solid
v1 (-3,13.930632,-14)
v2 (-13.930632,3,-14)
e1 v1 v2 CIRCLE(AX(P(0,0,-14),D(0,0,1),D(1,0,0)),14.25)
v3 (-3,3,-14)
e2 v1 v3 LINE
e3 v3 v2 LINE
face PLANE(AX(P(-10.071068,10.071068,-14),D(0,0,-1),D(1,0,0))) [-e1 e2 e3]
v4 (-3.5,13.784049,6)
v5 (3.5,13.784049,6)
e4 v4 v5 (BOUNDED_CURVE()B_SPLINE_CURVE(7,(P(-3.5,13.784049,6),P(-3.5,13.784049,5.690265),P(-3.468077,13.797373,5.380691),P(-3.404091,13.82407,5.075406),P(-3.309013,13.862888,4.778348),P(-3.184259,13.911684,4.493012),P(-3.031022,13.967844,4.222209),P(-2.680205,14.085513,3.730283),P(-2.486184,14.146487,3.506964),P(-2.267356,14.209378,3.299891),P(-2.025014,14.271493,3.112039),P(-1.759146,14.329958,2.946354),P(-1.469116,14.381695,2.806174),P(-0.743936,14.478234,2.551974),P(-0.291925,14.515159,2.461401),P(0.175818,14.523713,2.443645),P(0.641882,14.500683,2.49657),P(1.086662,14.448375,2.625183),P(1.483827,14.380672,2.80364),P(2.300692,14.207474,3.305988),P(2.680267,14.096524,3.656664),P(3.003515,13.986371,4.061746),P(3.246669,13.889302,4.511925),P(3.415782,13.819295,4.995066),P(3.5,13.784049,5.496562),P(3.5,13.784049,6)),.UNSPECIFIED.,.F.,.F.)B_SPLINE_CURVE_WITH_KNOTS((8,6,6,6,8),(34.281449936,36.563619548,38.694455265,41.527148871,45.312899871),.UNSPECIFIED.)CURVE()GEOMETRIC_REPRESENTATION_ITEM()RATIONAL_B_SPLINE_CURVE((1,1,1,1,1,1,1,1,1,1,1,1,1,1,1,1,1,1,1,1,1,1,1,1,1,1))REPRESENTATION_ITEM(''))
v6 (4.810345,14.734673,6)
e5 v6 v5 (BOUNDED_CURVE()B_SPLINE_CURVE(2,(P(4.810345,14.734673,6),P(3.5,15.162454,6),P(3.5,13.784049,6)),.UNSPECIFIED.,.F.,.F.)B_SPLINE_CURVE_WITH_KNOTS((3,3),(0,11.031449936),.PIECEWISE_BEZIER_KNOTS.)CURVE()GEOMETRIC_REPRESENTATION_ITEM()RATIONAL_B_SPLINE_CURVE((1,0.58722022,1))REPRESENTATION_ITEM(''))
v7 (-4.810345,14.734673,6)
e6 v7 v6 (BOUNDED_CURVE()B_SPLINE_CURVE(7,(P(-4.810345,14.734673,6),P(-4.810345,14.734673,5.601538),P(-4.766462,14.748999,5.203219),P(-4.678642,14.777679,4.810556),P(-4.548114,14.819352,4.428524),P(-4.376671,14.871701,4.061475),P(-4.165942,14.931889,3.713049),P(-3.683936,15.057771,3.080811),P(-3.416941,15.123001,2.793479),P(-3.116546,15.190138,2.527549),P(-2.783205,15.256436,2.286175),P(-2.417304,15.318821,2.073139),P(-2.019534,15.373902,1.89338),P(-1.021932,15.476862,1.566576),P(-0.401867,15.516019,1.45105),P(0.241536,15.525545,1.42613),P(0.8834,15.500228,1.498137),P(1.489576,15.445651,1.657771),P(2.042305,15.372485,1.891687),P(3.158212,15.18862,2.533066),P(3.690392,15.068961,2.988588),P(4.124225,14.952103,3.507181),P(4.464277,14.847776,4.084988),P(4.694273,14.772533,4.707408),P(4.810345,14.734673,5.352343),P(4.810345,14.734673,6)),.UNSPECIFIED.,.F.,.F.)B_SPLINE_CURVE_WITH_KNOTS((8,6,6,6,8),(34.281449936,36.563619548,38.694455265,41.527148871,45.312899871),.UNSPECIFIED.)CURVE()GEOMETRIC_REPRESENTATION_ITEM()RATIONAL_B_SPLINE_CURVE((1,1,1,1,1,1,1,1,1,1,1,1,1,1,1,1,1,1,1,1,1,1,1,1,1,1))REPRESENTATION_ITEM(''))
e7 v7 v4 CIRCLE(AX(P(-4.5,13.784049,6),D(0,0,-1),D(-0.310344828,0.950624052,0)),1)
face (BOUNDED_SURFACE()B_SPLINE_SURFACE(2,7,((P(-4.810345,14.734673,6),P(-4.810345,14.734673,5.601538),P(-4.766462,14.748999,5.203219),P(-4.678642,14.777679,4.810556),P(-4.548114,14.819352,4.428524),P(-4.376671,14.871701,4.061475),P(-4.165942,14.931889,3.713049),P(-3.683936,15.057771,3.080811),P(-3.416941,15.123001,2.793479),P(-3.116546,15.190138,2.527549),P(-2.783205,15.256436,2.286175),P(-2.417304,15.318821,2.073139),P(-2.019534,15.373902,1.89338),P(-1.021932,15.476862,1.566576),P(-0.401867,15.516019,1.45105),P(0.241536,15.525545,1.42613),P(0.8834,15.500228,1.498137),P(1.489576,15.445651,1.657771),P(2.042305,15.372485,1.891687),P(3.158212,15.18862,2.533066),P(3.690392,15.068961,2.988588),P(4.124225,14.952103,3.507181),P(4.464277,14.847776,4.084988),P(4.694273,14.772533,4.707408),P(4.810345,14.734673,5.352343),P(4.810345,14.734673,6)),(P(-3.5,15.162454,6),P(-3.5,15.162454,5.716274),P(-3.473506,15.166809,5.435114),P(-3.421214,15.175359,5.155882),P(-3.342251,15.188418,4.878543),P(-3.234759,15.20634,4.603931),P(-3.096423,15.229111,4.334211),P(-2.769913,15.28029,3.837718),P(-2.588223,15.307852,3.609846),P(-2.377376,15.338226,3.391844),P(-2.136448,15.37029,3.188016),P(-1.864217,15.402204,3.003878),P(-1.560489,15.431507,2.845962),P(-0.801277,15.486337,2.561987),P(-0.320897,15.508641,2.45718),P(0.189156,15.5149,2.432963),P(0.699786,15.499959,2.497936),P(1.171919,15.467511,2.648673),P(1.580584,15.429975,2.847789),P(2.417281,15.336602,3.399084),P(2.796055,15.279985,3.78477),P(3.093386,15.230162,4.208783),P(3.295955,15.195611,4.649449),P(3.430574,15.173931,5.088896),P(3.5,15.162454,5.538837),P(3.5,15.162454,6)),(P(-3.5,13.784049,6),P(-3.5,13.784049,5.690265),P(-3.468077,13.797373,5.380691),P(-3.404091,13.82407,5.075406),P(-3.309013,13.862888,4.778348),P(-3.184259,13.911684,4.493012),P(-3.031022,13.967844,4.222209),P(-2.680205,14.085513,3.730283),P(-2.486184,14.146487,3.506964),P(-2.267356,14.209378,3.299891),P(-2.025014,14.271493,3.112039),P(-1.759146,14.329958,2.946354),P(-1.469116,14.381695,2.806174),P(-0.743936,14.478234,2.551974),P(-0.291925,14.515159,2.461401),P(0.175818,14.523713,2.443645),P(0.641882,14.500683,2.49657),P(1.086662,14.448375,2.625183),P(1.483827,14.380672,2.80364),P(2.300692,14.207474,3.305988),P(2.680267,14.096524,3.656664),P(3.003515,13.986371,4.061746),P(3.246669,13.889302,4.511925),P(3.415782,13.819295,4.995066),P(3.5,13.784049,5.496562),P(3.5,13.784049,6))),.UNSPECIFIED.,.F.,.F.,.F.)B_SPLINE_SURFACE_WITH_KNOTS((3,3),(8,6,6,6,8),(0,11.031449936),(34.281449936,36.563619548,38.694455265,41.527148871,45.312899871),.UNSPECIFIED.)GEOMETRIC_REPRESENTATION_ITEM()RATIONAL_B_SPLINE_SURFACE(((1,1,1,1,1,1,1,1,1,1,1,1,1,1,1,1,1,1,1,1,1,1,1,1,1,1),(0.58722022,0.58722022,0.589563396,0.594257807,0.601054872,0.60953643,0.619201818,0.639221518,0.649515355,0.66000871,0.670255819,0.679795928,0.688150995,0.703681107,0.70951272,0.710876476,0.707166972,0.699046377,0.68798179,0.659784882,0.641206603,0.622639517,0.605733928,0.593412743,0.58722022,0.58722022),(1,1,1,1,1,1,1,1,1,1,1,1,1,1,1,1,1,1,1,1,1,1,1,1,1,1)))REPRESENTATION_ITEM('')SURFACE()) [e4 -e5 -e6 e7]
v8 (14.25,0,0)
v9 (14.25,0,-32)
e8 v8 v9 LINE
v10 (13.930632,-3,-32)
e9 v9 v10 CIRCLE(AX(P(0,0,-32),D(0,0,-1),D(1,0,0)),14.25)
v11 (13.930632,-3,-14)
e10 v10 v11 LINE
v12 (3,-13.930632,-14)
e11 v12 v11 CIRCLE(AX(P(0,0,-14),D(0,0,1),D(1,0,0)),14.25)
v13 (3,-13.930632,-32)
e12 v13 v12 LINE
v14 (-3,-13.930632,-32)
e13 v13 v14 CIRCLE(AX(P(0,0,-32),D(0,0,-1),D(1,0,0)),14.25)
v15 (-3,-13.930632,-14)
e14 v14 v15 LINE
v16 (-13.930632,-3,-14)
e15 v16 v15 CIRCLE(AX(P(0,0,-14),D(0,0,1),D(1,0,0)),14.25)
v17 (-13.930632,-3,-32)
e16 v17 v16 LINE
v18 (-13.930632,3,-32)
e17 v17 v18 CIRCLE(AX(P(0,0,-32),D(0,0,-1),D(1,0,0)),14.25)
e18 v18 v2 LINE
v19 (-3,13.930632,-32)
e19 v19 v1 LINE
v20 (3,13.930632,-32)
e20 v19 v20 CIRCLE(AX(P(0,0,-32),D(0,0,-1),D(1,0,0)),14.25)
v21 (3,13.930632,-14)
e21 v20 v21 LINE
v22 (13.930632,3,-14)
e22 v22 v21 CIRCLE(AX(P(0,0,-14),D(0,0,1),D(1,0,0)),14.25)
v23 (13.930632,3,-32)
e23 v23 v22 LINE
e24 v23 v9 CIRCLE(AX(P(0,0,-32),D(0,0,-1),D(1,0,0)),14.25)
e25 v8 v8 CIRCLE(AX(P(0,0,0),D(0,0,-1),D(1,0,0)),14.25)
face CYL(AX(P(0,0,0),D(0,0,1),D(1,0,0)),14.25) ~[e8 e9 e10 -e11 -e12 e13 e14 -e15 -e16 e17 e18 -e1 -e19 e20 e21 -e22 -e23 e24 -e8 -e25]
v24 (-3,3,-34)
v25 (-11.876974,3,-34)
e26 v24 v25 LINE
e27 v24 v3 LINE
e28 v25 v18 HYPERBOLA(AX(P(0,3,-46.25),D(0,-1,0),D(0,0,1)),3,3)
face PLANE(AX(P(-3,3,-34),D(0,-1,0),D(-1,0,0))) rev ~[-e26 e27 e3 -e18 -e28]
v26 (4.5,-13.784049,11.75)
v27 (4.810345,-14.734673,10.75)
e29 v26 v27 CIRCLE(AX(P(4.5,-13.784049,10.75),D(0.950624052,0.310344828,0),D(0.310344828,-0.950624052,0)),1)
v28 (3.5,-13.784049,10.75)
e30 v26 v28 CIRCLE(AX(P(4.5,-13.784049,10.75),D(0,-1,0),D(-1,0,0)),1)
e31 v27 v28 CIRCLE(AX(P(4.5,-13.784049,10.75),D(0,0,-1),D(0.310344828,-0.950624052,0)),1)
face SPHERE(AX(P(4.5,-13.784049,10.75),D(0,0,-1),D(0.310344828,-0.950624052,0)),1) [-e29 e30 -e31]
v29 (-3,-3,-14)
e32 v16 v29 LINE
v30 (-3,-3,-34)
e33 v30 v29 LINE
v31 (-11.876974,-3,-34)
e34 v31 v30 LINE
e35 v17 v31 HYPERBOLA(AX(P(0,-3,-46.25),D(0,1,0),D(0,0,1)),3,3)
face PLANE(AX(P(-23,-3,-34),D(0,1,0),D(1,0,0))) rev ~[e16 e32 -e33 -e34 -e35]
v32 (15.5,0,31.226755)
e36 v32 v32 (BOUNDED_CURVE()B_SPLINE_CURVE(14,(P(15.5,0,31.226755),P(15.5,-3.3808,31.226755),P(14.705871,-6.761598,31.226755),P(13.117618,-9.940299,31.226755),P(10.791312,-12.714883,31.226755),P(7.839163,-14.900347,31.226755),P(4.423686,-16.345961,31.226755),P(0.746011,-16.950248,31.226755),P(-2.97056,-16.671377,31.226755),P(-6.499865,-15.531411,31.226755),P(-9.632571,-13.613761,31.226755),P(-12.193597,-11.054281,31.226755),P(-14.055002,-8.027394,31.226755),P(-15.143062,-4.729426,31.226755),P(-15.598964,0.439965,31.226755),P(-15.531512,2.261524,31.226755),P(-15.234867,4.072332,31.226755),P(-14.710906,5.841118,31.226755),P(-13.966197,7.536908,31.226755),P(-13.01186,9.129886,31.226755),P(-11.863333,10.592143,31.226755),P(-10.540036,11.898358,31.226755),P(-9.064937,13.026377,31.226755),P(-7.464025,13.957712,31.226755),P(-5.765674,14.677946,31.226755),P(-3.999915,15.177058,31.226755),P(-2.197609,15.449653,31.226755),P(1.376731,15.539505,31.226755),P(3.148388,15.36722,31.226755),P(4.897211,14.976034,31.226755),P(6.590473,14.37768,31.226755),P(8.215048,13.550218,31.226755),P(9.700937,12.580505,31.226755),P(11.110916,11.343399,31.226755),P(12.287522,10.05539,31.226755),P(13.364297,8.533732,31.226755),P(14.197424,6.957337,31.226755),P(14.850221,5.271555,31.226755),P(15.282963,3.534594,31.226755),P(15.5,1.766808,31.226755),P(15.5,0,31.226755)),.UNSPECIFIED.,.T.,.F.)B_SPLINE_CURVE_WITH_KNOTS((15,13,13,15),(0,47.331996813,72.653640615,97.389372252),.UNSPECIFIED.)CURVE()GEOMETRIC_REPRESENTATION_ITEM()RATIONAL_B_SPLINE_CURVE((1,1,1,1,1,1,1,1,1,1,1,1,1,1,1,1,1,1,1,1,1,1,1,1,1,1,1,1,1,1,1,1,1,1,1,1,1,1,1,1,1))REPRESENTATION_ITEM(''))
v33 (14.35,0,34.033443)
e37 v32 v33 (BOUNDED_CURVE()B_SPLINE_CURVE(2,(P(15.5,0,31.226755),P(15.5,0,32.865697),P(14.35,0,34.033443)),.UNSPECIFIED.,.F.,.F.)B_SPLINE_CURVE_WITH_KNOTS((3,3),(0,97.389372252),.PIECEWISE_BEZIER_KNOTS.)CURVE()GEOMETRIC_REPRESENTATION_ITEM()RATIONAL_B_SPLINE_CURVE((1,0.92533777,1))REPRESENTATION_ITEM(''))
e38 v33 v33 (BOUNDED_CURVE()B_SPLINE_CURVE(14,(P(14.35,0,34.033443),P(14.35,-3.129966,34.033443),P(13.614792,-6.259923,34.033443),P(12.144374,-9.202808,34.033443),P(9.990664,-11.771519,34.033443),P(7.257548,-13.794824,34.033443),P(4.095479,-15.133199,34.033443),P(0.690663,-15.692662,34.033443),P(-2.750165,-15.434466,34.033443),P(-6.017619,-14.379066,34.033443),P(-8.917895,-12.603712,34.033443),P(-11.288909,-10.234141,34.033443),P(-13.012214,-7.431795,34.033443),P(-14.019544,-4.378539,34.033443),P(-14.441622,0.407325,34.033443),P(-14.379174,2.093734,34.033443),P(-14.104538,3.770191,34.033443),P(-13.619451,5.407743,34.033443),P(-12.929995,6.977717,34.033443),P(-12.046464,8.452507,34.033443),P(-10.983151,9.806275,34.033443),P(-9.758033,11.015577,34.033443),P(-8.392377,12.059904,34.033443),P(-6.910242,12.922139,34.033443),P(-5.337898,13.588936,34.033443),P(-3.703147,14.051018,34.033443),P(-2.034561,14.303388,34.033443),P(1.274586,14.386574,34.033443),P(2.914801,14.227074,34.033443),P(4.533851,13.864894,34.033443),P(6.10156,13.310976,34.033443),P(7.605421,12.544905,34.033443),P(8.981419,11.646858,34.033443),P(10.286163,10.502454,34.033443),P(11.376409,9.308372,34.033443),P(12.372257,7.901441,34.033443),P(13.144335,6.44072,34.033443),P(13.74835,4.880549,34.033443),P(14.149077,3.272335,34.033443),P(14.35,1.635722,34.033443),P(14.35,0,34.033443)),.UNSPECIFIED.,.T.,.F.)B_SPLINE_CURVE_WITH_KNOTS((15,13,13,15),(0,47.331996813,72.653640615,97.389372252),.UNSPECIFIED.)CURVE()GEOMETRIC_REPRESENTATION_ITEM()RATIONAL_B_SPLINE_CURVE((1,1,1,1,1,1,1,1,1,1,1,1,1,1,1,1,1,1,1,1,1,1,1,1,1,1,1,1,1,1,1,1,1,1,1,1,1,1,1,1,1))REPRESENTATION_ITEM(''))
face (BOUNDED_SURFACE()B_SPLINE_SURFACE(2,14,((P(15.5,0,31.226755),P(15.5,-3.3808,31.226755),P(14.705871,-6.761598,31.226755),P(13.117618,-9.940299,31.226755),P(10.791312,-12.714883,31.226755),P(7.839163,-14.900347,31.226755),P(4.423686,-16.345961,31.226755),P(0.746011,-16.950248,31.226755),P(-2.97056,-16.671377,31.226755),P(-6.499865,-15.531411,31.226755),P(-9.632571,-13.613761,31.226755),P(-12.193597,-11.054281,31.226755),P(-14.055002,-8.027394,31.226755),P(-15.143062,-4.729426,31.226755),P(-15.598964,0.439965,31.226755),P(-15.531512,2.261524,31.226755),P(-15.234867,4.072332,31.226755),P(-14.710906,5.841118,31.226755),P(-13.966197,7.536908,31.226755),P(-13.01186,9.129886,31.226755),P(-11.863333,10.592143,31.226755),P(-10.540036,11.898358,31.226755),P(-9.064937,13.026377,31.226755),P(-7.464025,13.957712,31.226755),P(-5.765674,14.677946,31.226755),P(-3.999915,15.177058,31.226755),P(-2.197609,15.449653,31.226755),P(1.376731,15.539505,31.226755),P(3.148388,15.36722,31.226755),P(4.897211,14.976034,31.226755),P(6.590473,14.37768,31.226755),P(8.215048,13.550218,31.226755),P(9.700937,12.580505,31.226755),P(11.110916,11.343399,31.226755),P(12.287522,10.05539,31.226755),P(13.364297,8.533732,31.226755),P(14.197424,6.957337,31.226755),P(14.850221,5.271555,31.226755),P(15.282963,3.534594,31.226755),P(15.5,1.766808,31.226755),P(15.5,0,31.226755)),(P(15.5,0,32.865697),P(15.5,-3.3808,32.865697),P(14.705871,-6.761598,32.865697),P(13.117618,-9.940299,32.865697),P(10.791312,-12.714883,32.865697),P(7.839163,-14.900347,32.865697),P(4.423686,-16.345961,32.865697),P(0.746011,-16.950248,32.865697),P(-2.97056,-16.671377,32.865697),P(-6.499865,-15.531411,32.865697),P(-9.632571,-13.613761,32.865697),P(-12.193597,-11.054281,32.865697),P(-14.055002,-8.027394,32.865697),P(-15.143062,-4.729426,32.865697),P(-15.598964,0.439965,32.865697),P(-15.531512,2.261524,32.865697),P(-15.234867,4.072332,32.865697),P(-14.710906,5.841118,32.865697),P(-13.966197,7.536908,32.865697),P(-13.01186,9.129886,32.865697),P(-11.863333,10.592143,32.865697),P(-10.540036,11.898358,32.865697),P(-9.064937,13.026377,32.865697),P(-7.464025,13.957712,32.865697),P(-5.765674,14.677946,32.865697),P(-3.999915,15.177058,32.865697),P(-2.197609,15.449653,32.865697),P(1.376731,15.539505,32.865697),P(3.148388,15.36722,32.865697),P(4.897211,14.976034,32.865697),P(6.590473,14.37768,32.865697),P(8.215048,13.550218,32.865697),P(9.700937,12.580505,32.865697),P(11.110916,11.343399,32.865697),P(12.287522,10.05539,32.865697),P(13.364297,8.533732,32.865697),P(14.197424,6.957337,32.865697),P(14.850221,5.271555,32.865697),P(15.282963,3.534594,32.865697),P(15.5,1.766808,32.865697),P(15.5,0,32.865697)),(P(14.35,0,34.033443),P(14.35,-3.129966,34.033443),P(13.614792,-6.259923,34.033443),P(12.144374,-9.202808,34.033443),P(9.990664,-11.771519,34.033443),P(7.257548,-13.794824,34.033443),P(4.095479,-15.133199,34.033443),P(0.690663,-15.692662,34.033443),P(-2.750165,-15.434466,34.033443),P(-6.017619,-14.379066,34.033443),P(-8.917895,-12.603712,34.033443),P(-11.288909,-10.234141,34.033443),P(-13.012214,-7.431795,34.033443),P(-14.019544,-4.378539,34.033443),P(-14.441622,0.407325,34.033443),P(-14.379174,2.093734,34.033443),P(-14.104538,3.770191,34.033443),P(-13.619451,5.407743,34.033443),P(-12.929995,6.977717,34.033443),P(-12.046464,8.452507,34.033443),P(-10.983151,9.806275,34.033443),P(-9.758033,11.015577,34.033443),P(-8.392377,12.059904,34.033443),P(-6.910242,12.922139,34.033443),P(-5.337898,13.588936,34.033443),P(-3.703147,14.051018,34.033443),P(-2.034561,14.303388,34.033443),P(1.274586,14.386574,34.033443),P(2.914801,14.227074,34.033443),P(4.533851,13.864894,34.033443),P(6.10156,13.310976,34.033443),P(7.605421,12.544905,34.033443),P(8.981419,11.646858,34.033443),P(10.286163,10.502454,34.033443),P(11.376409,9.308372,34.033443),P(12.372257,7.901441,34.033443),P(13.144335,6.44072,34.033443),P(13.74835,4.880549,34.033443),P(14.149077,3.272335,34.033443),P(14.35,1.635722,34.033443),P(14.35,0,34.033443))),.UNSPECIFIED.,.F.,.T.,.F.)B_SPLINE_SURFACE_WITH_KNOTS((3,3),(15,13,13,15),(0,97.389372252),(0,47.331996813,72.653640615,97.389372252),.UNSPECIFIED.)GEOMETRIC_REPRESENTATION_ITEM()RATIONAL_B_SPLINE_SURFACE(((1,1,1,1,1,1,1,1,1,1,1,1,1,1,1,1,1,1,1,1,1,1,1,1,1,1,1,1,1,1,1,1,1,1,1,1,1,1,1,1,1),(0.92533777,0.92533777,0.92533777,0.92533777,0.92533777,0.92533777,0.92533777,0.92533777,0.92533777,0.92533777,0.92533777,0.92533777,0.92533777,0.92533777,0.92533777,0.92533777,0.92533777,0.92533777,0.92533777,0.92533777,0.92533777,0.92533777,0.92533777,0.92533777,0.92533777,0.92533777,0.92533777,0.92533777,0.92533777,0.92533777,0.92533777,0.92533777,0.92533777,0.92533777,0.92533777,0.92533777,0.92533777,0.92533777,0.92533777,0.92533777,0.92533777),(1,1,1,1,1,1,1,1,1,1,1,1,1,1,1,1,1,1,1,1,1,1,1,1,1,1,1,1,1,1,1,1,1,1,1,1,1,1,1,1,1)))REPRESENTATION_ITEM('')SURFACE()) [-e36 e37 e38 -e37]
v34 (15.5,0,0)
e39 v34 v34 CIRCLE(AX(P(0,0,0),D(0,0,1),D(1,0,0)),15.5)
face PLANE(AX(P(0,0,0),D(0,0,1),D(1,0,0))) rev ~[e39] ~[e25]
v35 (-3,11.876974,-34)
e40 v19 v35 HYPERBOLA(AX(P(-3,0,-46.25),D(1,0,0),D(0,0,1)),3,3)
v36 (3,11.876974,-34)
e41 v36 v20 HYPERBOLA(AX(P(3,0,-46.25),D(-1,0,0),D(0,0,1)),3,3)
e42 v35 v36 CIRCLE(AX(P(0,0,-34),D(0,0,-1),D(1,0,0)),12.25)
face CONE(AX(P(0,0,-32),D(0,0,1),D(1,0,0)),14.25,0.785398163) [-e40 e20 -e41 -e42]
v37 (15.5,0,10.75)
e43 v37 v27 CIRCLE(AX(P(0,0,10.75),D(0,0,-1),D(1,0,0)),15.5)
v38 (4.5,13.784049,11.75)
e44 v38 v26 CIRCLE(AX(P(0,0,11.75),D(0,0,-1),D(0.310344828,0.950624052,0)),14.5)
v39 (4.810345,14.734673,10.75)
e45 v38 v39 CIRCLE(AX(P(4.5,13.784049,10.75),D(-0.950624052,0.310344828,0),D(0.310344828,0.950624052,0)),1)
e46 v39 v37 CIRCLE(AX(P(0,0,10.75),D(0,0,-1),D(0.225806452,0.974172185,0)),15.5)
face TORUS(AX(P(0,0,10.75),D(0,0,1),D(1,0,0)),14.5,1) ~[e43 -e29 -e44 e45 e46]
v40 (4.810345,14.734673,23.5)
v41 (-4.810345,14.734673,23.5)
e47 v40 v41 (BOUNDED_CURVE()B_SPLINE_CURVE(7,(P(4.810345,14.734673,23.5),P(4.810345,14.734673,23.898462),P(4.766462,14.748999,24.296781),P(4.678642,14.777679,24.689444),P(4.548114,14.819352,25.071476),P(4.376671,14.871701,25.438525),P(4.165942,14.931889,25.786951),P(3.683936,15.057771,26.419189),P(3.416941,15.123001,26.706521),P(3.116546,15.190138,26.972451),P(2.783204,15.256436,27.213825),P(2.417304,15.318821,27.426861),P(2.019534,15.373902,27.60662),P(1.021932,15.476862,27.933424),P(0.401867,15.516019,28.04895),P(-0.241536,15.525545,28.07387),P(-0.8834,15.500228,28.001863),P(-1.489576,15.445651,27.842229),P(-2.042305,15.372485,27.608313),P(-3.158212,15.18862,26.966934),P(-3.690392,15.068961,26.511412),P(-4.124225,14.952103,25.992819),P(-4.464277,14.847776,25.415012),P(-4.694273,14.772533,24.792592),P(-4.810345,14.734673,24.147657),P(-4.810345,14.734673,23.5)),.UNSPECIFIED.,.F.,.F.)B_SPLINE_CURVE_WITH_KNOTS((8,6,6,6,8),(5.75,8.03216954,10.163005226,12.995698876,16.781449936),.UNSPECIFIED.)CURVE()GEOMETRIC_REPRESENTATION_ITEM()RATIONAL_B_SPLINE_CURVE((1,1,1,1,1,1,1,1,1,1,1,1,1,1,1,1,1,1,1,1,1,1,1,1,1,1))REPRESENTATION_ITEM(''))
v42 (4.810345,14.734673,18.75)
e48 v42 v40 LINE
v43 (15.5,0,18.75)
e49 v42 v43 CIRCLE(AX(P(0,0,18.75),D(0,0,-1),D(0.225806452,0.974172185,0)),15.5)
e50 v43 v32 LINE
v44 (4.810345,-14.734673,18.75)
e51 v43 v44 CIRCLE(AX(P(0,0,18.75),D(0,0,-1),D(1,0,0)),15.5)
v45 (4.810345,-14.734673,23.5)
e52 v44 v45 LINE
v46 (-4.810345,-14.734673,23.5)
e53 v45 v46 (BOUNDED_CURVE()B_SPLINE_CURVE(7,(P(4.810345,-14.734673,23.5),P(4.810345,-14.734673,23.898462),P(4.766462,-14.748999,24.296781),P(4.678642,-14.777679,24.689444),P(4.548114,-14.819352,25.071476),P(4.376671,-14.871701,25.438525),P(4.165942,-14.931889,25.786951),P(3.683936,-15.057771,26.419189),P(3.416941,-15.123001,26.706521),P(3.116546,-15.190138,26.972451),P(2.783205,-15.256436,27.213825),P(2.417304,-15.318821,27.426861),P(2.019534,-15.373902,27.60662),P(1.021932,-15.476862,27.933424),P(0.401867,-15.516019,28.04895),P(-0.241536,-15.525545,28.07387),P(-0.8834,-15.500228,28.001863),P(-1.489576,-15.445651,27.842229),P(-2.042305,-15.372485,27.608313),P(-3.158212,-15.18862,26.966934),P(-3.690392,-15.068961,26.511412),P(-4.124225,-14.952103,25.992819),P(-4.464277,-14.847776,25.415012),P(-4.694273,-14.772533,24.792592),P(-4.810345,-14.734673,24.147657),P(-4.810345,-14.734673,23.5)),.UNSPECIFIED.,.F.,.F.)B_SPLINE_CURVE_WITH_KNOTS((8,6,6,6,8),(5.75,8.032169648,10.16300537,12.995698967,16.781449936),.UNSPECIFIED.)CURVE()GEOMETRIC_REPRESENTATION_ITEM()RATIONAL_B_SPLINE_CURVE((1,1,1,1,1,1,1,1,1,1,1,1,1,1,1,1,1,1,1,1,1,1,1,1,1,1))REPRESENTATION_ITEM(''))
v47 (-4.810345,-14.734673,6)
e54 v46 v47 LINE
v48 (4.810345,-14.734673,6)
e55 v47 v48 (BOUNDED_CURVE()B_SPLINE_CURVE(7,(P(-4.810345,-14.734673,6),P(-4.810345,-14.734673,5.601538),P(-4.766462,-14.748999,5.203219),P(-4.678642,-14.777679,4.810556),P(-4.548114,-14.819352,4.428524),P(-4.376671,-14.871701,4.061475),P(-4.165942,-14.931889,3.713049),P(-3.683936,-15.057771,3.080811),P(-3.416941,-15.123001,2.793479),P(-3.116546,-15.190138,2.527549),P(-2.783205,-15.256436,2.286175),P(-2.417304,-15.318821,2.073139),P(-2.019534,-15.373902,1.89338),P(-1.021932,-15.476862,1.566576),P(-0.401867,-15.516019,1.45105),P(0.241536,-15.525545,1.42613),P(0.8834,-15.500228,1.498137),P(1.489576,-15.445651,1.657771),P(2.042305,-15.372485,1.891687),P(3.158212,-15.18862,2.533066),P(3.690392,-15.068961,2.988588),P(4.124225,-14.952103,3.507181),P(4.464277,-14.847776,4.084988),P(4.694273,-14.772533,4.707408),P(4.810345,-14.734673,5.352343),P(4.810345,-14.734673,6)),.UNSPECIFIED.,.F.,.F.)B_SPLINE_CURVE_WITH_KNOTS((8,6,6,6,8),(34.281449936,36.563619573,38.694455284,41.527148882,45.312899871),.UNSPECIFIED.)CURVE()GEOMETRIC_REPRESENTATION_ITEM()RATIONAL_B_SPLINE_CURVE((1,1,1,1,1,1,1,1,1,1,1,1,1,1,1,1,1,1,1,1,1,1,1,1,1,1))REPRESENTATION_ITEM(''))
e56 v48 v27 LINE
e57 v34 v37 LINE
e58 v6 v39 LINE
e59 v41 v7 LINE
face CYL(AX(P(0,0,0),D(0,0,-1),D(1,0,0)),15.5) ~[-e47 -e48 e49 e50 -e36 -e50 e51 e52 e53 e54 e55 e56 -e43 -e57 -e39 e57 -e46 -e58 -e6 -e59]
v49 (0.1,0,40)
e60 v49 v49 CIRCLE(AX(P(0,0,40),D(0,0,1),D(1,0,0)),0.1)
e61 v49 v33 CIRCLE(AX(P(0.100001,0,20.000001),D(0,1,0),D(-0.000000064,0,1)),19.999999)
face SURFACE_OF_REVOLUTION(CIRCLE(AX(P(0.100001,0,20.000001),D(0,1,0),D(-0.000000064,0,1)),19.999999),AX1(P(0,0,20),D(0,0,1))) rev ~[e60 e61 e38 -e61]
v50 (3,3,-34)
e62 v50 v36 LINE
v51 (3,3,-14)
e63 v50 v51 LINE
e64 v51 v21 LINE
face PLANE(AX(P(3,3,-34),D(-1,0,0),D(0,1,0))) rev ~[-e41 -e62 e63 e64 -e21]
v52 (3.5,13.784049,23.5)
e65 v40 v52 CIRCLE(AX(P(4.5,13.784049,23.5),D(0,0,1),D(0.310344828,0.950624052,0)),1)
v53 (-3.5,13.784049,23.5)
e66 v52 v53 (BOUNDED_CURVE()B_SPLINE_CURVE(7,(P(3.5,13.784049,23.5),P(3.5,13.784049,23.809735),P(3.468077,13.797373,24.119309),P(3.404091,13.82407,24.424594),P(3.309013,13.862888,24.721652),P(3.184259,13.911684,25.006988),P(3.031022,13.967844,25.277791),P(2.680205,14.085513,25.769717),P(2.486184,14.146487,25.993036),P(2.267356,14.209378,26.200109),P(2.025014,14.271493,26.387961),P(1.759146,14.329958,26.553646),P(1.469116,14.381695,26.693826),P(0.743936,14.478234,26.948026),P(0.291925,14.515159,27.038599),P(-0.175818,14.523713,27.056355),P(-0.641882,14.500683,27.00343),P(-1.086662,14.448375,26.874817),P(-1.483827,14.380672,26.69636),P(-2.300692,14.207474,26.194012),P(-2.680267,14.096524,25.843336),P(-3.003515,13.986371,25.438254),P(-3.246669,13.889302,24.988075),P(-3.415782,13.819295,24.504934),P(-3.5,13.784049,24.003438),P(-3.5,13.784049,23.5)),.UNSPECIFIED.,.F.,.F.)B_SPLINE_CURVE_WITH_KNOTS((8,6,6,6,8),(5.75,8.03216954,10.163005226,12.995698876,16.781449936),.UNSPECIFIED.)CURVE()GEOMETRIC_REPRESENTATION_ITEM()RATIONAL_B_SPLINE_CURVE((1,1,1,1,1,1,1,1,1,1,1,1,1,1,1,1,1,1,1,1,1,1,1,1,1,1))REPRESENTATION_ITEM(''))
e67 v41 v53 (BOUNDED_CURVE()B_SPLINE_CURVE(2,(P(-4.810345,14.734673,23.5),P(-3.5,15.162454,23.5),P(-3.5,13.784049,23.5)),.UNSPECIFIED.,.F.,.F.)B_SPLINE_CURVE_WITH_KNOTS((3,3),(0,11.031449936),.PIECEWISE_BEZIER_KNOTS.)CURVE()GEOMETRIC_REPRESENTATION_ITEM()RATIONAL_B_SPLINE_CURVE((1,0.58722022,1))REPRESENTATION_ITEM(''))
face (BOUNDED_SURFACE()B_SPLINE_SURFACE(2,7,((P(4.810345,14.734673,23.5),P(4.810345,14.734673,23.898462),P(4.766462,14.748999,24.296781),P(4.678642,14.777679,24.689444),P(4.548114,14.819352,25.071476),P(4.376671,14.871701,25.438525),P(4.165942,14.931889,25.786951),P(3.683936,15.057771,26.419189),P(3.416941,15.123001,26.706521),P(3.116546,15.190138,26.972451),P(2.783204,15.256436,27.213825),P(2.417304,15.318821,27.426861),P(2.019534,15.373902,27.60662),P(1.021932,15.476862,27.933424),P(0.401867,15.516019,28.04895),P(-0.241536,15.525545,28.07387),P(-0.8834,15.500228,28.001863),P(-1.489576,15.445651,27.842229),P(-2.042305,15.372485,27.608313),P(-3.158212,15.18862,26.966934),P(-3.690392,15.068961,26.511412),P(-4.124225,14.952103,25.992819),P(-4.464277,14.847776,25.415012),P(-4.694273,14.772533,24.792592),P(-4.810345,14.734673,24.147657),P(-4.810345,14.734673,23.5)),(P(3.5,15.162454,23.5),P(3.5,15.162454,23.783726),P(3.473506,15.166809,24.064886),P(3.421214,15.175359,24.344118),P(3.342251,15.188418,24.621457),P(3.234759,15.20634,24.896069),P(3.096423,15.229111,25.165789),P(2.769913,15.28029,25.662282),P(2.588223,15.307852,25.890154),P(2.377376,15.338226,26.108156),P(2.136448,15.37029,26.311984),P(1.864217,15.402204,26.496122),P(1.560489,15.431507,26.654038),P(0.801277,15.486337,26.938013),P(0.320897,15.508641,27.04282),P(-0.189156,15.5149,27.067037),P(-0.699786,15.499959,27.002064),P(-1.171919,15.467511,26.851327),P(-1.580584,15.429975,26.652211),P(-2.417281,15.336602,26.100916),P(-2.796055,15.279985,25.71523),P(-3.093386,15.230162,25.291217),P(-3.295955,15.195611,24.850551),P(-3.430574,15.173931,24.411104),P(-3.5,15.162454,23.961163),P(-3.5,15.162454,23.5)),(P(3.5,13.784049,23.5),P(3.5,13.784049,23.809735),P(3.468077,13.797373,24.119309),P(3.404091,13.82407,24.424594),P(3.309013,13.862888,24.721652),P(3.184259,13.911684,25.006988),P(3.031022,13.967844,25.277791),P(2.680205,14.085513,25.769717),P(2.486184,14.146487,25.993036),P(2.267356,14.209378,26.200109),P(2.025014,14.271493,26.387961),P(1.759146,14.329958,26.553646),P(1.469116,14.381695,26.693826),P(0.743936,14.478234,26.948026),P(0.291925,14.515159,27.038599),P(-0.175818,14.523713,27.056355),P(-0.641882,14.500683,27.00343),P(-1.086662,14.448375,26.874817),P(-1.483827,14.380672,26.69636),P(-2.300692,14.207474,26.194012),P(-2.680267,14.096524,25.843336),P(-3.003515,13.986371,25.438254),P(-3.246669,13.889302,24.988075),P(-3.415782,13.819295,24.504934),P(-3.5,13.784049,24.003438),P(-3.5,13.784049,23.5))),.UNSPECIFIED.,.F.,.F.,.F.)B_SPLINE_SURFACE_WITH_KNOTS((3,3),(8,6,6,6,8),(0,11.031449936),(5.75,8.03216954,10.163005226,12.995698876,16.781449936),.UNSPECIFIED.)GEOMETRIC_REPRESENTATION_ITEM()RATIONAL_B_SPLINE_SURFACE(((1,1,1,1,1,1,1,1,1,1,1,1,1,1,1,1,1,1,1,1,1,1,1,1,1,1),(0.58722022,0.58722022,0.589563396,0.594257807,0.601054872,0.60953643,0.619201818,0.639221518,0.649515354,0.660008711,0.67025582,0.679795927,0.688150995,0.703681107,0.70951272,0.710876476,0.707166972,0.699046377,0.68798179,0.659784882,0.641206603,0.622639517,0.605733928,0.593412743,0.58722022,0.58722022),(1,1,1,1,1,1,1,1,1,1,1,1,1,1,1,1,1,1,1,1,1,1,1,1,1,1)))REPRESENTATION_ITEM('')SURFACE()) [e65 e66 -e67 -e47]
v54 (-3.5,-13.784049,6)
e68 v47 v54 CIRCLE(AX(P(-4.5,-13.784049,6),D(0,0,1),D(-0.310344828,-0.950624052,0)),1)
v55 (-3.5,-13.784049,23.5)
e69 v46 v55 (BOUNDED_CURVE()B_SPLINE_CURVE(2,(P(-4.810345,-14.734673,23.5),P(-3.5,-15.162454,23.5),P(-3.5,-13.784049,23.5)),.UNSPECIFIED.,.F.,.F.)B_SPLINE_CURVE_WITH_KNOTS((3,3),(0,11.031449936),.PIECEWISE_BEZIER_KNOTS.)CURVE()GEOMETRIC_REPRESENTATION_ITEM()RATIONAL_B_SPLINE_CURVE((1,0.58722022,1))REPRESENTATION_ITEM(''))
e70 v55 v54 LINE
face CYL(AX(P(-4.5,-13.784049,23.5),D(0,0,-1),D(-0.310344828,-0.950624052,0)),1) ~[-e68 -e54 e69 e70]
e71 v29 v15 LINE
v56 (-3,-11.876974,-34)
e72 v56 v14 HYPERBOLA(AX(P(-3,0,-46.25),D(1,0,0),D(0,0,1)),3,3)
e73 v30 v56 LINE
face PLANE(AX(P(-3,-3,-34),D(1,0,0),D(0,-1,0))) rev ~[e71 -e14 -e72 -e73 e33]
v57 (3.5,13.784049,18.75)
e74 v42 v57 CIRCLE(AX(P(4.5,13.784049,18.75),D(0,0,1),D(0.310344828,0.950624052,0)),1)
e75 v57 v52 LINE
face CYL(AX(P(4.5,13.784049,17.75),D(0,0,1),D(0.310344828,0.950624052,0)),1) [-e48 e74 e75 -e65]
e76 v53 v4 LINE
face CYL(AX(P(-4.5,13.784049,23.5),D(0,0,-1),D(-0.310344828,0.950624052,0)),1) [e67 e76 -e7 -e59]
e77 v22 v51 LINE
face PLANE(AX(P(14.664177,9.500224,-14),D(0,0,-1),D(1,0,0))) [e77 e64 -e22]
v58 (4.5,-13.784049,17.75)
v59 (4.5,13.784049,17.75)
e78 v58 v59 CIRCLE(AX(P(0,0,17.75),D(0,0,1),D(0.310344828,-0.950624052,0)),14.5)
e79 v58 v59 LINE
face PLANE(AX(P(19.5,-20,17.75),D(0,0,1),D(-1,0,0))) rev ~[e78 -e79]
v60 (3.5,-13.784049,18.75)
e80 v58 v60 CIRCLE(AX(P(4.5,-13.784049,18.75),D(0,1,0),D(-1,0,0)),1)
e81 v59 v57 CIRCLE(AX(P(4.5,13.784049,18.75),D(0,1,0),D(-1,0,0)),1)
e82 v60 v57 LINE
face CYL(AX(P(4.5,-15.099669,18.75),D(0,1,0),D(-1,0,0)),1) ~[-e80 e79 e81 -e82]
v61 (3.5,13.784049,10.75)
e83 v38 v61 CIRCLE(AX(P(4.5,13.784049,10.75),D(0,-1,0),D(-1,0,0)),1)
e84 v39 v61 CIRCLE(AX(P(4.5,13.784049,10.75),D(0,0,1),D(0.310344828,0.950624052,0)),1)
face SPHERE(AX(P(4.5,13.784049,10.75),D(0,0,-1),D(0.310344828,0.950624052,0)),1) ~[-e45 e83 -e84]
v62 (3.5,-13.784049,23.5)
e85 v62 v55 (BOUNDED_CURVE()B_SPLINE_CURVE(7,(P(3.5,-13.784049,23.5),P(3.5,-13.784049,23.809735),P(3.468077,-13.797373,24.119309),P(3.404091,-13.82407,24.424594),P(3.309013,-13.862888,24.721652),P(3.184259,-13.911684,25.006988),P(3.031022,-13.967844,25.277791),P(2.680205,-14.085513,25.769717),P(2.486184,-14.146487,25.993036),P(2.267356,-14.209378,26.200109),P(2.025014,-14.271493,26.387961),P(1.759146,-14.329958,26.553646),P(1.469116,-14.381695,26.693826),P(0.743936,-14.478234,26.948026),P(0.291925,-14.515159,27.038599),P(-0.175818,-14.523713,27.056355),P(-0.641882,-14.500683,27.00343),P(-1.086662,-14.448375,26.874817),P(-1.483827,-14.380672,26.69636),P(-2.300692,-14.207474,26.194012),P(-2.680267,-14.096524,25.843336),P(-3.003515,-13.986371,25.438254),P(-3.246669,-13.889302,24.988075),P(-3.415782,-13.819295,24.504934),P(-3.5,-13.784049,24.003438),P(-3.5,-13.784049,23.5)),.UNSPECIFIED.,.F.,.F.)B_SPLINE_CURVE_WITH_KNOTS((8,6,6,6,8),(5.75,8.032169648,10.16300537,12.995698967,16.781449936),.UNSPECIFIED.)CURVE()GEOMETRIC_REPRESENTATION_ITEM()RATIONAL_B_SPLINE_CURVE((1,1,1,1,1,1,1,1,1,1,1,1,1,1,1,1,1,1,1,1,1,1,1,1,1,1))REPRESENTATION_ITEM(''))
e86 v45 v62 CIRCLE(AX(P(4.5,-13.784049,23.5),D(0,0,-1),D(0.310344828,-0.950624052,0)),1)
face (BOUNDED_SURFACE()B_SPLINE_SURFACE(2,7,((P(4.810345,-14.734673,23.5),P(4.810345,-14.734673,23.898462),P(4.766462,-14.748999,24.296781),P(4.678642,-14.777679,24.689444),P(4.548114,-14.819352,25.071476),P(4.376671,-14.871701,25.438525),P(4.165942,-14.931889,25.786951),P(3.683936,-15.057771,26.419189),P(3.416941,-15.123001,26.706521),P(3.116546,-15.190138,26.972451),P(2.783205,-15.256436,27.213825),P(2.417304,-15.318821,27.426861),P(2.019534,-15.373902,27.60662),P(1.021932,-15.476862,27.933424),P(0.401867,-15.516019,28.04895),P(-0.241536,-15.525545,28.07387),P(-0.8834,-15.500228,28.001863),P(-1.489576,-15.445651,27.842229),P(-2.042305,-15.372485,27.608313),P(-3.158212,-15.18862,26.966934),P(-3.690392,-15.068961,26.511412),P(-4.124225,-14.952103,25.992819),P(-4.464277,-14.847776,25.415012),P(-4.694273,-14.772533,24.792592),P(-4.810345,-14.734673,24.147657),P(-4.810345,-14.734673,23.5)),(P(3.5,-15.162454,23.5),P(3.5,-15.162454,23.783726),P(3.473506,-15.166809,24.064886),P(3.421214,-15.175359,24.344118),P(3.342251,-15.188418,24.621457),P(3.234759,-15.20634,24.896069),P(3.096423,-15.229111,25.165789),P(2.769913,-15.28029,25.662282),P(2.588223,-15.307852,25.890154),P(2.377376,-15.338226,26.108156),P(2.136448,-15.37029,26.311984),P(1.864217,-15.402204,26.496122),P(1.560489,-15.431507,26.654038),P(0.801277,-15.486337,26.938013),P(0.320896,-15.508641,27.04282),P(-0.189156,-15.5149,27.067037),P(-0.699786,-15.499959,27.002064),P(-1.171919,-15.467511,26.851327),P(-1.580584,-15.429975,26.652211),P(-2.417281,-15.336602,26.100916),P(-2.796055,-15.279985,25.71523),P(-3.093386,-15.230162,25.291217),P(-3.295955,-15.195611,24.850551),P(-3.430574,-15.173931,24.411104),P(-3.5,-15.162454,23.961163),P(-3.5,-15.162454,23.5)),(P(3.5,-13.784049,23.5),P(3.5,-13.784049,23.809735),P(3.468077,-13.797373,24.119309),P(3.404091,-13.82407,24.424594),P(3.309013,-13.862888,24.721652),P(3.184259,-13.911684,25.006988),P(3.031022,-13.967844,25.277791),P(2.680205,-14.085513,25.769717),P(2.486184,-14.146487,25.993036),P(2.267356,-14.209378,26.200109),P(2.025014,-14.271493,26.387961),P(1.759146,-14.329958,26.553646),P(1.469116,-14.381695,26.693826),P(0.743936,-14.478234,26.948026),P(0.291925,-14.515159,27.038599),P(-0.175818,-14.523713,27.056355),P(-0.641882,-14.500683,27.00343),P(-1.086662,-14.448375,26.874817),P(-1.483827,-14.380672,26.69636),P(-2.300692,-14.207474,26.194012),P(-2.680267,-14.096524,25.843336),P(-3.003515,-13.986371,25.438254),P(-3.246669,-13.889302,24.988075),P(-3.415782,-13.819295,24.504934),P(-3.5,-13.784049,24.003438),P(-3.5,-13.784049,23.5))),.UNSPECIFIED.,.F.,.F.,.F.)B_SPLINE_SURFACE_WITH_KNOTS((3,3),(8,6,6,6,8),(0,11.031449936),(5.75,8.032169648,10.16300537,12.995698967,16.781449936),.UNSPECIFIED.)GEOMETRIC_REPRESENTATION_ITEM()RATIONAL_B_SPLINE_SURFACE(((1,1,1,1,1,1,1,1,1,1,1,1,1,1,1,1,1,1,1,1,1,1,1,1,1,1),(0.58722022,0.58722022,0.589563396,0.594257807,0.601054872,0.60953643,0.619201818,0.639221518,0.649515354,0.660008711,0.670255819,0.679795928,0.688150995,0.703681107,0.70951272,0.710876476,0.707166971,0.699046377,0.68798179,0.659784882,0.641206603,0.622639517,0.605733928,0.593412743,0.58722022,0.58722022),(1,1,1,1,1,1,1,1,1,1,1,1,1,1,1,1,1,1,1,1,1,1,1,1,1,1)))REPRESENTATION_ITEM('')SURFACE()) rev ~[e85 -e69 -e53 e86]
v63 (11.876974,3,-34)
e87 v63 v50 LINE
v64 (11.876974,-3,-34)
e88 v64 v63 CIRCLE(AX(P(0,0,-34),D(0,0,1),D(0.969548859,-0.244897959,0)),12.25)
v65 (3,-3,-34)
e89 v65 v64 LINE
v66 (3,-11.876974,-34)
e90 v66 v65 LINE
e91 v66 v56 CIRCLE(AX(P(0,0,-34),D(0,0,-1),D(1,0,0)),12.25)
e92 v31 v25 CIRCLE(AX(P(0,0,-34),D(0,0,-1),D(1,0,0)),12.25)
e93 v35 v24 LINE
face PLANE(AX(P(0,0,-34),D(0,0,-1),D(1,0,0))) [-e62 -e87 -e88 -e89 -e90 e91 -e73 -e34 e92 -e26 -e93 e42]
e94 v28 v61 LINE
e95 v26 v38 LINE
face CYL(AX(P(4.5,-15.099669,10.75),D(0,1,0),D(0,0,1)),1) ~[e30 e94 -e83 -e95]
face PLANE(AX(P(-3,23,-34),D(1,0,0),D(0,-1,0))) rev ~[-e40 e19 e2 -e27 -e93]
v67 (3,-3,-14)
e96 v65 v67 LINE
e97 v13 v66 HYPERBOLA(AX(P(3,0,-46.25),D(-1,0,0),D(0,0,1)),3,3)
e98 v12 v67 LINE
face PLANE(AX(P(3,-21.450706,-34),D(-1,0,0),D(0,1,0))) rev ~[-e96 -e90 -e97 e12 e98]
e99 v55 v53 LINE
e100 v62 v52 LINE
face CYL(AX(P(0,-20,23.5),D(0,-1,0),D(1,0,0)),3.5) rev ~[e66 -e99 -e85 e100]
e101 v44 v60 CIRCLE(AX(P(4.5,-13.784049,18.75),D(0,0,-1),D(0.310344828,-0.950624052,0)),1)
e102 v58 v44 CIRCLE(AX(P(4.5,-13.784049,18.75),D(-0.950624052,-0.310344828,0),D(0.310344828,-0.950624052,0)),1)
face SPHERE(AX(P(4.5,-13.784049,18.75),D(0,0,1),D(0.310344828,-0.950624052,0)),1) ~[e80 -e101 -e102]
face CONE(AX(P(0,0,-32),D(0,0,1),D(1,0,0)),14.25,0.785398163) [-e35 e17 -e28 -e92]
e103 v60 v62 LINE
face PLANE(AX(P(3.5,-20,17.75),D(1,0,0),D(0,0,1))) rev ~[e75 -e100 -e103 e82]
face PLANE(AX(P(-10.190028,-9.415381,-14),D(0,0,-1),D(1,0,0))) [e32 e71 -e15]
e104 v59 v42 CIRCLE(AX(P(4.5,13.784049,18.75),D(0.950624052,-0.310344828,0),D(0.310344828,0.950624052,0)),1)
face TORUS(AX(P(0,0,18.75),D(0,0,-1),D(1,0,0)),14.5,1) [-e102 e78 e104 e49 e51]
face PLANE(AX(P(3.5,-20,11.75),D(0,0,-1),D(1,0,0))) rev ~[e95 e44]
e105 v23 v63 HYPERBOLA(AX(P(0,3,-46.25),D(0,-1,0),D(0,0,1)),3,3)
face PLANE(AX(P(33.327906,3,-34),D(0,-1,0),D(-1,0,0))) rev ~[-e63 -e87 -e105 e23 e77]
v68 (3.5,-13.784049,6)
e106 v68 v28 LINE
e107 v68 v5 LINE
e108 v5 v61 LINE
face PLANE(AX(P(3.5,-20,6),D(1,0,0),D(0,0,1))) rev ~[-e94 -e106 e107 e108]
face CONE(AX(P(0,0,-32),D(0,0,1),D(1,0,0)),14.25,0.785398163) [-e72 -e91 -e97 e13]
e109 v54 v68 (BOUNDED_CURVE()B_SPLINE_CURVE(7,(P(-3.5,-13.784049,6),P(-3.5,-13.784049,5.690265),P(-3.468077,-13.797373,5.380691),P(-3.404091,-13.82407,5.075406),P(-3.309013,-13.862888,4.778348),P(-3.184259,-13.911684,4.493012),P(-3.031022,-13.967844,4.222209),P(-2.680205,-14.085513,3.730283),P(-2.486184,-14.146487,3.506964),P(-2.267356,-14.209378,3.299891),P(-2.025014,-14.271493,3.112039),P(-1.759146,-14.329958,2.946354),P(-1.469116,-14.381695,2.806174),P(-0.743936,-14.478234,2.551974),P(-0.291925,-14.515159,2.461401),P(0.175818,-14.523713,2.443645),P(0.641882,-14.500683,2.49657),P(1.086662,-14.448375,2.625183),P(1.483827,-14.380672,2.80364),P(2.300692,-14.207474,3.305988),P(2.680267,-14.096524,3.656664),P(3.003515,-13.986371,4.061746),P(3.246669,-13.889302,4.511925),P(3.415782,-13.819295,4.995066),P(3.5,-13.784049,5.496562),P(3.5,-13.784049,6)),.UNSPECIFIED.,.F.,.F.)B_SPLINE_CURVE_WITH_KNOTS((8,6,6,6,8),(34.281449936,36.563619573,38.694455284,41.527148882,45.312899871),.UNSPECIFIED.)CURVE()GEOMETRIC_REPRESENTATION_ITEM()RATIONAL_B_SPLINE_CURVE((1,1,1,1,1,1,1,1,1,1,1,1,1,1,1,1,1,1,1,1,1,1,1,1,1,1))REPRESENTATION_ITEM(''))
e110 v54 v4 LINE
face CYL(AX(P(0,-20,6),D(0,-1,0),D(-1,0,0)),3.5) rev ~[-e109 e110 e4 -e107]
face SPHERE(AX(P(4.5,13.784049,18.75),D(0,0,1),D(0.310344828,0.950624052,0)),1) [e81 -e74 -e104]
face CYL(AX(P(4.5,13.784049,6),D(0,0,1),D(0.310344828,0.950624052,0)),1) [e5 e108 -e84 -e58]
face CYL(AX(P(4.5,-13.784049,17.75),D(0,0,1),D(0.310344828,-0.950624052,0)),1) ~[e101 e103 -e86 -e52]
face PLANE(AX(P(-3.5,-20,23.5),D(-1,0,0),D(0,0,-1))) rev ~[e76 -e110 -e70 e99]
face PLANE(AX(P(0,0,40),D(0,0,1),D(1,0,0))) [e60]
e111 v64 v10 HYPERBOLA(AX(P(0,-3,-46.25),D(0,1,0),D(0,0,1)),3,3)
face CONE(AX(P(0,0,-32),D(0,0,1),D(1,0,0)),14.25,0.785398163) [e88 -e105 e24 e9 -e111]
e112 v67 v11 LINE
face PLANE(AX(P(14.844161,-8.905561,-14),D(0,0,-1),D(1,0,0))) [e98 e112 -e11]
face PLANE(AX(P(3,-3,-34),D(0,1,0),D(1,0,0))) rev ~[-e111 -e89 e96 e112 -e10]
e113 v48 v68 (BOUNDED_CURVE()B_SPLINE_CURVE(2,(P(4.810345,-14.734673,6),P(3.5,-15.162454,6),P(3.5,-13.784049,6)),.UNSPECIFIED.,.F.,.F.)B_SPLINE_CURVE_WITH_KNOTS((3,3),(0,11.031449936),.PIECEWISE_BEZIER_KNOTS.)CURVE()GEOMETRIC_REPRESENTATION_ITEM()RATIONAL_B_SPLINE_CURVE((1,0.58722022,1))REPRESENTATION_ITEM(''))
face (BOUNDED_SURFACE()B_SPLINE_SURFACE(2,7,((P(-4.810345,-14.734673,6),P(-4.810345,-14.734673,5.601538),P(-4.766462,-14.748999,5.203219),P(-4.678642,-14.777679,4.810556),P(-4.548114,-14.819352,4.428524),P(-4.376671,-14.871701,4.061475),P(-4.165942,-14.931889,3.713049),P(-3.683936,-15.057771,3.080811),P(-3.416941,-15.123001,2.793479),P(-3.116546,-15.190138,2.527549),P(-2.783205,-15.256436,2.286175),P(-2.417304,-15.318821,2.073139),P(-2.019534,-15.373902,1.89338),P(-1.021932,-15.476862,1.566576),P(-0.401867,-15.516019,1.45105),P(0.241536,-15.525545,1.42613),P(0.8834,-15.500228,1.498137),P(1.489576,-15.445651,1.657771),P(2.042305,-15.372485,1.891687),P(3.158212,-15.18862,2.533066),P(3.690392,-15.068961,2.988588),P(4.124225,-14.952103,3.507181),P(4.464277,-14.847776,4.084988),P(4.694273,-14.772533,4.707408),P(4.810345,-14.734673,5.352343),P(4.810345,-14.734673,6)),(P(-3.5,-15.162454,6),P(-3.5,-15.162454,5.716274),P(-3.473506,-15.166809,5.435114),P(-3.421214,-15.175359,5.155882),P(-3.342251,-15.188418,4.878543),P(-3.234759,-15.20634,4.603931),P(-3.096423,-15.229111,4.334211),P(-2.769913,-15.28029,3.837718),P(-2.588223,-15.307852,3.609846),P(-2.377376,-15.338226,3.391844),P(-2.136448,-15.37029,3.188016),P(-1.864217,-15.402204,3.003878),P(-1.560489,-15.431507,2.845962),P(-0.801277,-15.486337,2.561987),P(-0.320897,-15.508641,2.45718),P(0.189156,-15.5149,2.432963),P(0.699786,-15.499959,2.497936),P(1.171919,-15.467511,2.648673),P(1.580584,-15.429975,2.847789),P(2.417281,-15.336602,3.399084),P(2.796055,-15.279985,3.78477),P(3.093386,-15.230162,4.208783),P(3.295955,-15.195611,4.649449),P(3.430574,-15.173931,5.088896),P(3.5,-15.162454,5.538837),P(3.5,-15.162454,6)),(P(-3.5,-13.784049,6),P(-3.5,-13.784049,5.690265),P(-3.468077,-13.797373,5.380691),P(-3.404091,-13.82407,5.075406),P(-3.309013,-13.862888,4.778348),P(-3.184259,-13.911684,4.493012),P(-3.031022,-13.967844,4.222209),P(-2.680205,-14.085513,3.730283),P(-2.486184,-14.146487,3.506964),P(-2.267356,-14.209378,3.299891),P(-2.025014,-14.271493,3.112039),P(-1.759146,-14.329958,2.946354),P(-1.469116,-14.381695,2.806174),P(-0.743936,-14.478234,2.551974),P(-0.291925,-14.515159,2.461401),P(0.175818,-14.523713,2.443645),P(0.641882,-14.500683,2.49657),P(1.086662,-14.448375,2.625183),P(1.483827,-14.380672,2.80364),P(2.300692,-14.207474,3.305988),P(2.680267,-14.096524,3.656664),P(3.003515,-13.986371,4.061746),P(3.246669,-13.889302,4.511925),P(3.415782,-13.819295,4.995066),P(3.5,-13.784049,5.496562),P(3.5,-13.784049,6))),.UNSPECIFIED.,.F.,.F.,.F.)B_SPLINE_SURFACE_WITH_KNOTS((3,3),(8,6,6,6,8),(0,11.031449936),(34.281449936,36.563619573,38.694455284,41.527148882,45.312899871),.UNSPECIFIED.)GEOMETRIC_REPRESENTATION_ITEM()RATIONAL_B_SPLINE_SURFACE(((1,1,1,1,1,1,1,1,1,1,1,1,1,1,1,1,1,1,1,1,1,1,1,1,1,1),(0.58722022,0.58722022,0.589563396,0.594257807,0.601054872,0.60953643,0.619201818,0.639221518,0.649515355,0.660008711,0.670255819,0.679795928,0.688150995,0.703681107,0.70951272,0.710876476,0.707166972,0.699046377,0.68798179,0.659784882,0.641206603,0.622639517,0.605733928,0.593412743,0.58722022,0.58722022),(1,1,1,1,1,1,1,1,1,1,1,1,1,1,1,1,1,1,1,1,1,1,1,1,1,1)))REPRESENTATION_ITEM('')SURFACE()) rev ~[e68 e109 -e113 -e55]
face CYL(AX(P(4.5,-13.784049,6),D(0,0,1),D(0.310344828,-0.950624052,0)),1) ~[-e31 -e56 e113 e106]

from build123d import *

# Parameters (mm, degrees)
F0_R      = 15.5
F1_DEPTH  = 40
F4_DEPTH  = 40
F5_R      = 1
F6_R      = 14.25
F7_DEPTH  = 34
F8_SIZE   = 2
F10_DEPTH = 20
F13_R     = 4


with BuildPart() as f1:
    # F0 (on Top) → F1 (new body)
    with BuildSketch(Plane.XY):
        Circle(F0_R)
    extrude(amount=F1_DEPTH)

    # F3 (on offset) → F4 (cut)
    with BuildSketch(Plane.XZ.offset(20)):
        with BuildLine():
            Line((19.5, 11.75), (19.5, 17.75))
            Line((19.5, 17.75), (3.5, 17.75))
            Line((3.5, 17.75), (3.5, 23.5))
            ThreePointArc((3.5, 23.5), (0, 27), (-3.5, 23.5))
            Line((-3.5, 23.5), (-3.5, 6))
            ThreePointArc((-3.5, 6), (0, 2.5), (3.5, 6))
            Line((3.5, 6), (3.5, 11.75))
            Line((3.5, 11.75), (19.5, 11.75))
        make_face()
    extrude(amount=-F4_DEPTH, mode=Mode.SUBTRACT)

    # F5
    f5_edges = [f1.edges().sort_by_distance(p)[0] for p in [
        (0, -15.5, 27),
        (0, 15.5, 27),
        (12.134661, -9.643651, 17.75),
        (12.134661, 9.643651, 17.75),
        (12.134661, -9.643651, 11.75),
        (12.134661, 9.643651, 11.75),
        (-3.5, -15.099669, 14.75),
        (-3.5, 15.099669, 14.75),
        (3.5, 0, 17.75),
        (3.5, 0, 11.75),
    ]]
    fillet(f5_edges, radius=F5_R)

    # F6 (on face) → F7 (join)
    with BuildSketch(Plane(origin=(0, 0, 0), x_dir=(1, 0, 0), z_dir=(0, 0, -1))):
        Circle(F6_R)
    extrude(amount=F7_DEPTH)

    # F8
    f8_edges = [f1.edges().sort_by_distance(p)[0] for p in [
        (-14.25, 0, -34),
    ]]
    chamfer(f8_edges, length=F8_SIZE)

    # F9 (on face) → F10 (cut)
    with BuildSketch(Plane(origin=(0, 0, -34), x_dir=(1, 0, 0), z_dir=(0, 0, -1))):
        Polygon((3, 21.450706), (3, 3), (33.327906, 3), align=None)
        Polygon((-23, 3), (-3, 3), (-3, 21.450706), align=None)
        Polygon((-3, -23), (-3, -3), (-23, -3), align=None)
        Polygon((33.327906, -3), (3, -3), (3, -23), align=None)
    extrude(amount=-F10_DEPTH, mode=Mode.SUBTRACT)

    # F11 (on Front) → F12 (revolve, cut)
    with BuildSketch(Plane.XZ):
        with BuildLine():
            ThreePointArc((0.1, 40), (14.242136, 34.142136), (20.1, 20))
            Line((20.1, 20), (20.1, 40))
            Line((20.1, 40), (0.1, 40))
        make_face()
    revolve(axis=Axis((0, 0, 20), (0, 0, 1)), mode=Mode.SUBTRACT)

    # F13
    f13_edges = [f1.edges().sort_by_distance(p)[0] for p in [
        (-15.5, 0, 32.760878),
    ]]
    fillet(f13_edges, radius=F13_R)


solid = f1.part
